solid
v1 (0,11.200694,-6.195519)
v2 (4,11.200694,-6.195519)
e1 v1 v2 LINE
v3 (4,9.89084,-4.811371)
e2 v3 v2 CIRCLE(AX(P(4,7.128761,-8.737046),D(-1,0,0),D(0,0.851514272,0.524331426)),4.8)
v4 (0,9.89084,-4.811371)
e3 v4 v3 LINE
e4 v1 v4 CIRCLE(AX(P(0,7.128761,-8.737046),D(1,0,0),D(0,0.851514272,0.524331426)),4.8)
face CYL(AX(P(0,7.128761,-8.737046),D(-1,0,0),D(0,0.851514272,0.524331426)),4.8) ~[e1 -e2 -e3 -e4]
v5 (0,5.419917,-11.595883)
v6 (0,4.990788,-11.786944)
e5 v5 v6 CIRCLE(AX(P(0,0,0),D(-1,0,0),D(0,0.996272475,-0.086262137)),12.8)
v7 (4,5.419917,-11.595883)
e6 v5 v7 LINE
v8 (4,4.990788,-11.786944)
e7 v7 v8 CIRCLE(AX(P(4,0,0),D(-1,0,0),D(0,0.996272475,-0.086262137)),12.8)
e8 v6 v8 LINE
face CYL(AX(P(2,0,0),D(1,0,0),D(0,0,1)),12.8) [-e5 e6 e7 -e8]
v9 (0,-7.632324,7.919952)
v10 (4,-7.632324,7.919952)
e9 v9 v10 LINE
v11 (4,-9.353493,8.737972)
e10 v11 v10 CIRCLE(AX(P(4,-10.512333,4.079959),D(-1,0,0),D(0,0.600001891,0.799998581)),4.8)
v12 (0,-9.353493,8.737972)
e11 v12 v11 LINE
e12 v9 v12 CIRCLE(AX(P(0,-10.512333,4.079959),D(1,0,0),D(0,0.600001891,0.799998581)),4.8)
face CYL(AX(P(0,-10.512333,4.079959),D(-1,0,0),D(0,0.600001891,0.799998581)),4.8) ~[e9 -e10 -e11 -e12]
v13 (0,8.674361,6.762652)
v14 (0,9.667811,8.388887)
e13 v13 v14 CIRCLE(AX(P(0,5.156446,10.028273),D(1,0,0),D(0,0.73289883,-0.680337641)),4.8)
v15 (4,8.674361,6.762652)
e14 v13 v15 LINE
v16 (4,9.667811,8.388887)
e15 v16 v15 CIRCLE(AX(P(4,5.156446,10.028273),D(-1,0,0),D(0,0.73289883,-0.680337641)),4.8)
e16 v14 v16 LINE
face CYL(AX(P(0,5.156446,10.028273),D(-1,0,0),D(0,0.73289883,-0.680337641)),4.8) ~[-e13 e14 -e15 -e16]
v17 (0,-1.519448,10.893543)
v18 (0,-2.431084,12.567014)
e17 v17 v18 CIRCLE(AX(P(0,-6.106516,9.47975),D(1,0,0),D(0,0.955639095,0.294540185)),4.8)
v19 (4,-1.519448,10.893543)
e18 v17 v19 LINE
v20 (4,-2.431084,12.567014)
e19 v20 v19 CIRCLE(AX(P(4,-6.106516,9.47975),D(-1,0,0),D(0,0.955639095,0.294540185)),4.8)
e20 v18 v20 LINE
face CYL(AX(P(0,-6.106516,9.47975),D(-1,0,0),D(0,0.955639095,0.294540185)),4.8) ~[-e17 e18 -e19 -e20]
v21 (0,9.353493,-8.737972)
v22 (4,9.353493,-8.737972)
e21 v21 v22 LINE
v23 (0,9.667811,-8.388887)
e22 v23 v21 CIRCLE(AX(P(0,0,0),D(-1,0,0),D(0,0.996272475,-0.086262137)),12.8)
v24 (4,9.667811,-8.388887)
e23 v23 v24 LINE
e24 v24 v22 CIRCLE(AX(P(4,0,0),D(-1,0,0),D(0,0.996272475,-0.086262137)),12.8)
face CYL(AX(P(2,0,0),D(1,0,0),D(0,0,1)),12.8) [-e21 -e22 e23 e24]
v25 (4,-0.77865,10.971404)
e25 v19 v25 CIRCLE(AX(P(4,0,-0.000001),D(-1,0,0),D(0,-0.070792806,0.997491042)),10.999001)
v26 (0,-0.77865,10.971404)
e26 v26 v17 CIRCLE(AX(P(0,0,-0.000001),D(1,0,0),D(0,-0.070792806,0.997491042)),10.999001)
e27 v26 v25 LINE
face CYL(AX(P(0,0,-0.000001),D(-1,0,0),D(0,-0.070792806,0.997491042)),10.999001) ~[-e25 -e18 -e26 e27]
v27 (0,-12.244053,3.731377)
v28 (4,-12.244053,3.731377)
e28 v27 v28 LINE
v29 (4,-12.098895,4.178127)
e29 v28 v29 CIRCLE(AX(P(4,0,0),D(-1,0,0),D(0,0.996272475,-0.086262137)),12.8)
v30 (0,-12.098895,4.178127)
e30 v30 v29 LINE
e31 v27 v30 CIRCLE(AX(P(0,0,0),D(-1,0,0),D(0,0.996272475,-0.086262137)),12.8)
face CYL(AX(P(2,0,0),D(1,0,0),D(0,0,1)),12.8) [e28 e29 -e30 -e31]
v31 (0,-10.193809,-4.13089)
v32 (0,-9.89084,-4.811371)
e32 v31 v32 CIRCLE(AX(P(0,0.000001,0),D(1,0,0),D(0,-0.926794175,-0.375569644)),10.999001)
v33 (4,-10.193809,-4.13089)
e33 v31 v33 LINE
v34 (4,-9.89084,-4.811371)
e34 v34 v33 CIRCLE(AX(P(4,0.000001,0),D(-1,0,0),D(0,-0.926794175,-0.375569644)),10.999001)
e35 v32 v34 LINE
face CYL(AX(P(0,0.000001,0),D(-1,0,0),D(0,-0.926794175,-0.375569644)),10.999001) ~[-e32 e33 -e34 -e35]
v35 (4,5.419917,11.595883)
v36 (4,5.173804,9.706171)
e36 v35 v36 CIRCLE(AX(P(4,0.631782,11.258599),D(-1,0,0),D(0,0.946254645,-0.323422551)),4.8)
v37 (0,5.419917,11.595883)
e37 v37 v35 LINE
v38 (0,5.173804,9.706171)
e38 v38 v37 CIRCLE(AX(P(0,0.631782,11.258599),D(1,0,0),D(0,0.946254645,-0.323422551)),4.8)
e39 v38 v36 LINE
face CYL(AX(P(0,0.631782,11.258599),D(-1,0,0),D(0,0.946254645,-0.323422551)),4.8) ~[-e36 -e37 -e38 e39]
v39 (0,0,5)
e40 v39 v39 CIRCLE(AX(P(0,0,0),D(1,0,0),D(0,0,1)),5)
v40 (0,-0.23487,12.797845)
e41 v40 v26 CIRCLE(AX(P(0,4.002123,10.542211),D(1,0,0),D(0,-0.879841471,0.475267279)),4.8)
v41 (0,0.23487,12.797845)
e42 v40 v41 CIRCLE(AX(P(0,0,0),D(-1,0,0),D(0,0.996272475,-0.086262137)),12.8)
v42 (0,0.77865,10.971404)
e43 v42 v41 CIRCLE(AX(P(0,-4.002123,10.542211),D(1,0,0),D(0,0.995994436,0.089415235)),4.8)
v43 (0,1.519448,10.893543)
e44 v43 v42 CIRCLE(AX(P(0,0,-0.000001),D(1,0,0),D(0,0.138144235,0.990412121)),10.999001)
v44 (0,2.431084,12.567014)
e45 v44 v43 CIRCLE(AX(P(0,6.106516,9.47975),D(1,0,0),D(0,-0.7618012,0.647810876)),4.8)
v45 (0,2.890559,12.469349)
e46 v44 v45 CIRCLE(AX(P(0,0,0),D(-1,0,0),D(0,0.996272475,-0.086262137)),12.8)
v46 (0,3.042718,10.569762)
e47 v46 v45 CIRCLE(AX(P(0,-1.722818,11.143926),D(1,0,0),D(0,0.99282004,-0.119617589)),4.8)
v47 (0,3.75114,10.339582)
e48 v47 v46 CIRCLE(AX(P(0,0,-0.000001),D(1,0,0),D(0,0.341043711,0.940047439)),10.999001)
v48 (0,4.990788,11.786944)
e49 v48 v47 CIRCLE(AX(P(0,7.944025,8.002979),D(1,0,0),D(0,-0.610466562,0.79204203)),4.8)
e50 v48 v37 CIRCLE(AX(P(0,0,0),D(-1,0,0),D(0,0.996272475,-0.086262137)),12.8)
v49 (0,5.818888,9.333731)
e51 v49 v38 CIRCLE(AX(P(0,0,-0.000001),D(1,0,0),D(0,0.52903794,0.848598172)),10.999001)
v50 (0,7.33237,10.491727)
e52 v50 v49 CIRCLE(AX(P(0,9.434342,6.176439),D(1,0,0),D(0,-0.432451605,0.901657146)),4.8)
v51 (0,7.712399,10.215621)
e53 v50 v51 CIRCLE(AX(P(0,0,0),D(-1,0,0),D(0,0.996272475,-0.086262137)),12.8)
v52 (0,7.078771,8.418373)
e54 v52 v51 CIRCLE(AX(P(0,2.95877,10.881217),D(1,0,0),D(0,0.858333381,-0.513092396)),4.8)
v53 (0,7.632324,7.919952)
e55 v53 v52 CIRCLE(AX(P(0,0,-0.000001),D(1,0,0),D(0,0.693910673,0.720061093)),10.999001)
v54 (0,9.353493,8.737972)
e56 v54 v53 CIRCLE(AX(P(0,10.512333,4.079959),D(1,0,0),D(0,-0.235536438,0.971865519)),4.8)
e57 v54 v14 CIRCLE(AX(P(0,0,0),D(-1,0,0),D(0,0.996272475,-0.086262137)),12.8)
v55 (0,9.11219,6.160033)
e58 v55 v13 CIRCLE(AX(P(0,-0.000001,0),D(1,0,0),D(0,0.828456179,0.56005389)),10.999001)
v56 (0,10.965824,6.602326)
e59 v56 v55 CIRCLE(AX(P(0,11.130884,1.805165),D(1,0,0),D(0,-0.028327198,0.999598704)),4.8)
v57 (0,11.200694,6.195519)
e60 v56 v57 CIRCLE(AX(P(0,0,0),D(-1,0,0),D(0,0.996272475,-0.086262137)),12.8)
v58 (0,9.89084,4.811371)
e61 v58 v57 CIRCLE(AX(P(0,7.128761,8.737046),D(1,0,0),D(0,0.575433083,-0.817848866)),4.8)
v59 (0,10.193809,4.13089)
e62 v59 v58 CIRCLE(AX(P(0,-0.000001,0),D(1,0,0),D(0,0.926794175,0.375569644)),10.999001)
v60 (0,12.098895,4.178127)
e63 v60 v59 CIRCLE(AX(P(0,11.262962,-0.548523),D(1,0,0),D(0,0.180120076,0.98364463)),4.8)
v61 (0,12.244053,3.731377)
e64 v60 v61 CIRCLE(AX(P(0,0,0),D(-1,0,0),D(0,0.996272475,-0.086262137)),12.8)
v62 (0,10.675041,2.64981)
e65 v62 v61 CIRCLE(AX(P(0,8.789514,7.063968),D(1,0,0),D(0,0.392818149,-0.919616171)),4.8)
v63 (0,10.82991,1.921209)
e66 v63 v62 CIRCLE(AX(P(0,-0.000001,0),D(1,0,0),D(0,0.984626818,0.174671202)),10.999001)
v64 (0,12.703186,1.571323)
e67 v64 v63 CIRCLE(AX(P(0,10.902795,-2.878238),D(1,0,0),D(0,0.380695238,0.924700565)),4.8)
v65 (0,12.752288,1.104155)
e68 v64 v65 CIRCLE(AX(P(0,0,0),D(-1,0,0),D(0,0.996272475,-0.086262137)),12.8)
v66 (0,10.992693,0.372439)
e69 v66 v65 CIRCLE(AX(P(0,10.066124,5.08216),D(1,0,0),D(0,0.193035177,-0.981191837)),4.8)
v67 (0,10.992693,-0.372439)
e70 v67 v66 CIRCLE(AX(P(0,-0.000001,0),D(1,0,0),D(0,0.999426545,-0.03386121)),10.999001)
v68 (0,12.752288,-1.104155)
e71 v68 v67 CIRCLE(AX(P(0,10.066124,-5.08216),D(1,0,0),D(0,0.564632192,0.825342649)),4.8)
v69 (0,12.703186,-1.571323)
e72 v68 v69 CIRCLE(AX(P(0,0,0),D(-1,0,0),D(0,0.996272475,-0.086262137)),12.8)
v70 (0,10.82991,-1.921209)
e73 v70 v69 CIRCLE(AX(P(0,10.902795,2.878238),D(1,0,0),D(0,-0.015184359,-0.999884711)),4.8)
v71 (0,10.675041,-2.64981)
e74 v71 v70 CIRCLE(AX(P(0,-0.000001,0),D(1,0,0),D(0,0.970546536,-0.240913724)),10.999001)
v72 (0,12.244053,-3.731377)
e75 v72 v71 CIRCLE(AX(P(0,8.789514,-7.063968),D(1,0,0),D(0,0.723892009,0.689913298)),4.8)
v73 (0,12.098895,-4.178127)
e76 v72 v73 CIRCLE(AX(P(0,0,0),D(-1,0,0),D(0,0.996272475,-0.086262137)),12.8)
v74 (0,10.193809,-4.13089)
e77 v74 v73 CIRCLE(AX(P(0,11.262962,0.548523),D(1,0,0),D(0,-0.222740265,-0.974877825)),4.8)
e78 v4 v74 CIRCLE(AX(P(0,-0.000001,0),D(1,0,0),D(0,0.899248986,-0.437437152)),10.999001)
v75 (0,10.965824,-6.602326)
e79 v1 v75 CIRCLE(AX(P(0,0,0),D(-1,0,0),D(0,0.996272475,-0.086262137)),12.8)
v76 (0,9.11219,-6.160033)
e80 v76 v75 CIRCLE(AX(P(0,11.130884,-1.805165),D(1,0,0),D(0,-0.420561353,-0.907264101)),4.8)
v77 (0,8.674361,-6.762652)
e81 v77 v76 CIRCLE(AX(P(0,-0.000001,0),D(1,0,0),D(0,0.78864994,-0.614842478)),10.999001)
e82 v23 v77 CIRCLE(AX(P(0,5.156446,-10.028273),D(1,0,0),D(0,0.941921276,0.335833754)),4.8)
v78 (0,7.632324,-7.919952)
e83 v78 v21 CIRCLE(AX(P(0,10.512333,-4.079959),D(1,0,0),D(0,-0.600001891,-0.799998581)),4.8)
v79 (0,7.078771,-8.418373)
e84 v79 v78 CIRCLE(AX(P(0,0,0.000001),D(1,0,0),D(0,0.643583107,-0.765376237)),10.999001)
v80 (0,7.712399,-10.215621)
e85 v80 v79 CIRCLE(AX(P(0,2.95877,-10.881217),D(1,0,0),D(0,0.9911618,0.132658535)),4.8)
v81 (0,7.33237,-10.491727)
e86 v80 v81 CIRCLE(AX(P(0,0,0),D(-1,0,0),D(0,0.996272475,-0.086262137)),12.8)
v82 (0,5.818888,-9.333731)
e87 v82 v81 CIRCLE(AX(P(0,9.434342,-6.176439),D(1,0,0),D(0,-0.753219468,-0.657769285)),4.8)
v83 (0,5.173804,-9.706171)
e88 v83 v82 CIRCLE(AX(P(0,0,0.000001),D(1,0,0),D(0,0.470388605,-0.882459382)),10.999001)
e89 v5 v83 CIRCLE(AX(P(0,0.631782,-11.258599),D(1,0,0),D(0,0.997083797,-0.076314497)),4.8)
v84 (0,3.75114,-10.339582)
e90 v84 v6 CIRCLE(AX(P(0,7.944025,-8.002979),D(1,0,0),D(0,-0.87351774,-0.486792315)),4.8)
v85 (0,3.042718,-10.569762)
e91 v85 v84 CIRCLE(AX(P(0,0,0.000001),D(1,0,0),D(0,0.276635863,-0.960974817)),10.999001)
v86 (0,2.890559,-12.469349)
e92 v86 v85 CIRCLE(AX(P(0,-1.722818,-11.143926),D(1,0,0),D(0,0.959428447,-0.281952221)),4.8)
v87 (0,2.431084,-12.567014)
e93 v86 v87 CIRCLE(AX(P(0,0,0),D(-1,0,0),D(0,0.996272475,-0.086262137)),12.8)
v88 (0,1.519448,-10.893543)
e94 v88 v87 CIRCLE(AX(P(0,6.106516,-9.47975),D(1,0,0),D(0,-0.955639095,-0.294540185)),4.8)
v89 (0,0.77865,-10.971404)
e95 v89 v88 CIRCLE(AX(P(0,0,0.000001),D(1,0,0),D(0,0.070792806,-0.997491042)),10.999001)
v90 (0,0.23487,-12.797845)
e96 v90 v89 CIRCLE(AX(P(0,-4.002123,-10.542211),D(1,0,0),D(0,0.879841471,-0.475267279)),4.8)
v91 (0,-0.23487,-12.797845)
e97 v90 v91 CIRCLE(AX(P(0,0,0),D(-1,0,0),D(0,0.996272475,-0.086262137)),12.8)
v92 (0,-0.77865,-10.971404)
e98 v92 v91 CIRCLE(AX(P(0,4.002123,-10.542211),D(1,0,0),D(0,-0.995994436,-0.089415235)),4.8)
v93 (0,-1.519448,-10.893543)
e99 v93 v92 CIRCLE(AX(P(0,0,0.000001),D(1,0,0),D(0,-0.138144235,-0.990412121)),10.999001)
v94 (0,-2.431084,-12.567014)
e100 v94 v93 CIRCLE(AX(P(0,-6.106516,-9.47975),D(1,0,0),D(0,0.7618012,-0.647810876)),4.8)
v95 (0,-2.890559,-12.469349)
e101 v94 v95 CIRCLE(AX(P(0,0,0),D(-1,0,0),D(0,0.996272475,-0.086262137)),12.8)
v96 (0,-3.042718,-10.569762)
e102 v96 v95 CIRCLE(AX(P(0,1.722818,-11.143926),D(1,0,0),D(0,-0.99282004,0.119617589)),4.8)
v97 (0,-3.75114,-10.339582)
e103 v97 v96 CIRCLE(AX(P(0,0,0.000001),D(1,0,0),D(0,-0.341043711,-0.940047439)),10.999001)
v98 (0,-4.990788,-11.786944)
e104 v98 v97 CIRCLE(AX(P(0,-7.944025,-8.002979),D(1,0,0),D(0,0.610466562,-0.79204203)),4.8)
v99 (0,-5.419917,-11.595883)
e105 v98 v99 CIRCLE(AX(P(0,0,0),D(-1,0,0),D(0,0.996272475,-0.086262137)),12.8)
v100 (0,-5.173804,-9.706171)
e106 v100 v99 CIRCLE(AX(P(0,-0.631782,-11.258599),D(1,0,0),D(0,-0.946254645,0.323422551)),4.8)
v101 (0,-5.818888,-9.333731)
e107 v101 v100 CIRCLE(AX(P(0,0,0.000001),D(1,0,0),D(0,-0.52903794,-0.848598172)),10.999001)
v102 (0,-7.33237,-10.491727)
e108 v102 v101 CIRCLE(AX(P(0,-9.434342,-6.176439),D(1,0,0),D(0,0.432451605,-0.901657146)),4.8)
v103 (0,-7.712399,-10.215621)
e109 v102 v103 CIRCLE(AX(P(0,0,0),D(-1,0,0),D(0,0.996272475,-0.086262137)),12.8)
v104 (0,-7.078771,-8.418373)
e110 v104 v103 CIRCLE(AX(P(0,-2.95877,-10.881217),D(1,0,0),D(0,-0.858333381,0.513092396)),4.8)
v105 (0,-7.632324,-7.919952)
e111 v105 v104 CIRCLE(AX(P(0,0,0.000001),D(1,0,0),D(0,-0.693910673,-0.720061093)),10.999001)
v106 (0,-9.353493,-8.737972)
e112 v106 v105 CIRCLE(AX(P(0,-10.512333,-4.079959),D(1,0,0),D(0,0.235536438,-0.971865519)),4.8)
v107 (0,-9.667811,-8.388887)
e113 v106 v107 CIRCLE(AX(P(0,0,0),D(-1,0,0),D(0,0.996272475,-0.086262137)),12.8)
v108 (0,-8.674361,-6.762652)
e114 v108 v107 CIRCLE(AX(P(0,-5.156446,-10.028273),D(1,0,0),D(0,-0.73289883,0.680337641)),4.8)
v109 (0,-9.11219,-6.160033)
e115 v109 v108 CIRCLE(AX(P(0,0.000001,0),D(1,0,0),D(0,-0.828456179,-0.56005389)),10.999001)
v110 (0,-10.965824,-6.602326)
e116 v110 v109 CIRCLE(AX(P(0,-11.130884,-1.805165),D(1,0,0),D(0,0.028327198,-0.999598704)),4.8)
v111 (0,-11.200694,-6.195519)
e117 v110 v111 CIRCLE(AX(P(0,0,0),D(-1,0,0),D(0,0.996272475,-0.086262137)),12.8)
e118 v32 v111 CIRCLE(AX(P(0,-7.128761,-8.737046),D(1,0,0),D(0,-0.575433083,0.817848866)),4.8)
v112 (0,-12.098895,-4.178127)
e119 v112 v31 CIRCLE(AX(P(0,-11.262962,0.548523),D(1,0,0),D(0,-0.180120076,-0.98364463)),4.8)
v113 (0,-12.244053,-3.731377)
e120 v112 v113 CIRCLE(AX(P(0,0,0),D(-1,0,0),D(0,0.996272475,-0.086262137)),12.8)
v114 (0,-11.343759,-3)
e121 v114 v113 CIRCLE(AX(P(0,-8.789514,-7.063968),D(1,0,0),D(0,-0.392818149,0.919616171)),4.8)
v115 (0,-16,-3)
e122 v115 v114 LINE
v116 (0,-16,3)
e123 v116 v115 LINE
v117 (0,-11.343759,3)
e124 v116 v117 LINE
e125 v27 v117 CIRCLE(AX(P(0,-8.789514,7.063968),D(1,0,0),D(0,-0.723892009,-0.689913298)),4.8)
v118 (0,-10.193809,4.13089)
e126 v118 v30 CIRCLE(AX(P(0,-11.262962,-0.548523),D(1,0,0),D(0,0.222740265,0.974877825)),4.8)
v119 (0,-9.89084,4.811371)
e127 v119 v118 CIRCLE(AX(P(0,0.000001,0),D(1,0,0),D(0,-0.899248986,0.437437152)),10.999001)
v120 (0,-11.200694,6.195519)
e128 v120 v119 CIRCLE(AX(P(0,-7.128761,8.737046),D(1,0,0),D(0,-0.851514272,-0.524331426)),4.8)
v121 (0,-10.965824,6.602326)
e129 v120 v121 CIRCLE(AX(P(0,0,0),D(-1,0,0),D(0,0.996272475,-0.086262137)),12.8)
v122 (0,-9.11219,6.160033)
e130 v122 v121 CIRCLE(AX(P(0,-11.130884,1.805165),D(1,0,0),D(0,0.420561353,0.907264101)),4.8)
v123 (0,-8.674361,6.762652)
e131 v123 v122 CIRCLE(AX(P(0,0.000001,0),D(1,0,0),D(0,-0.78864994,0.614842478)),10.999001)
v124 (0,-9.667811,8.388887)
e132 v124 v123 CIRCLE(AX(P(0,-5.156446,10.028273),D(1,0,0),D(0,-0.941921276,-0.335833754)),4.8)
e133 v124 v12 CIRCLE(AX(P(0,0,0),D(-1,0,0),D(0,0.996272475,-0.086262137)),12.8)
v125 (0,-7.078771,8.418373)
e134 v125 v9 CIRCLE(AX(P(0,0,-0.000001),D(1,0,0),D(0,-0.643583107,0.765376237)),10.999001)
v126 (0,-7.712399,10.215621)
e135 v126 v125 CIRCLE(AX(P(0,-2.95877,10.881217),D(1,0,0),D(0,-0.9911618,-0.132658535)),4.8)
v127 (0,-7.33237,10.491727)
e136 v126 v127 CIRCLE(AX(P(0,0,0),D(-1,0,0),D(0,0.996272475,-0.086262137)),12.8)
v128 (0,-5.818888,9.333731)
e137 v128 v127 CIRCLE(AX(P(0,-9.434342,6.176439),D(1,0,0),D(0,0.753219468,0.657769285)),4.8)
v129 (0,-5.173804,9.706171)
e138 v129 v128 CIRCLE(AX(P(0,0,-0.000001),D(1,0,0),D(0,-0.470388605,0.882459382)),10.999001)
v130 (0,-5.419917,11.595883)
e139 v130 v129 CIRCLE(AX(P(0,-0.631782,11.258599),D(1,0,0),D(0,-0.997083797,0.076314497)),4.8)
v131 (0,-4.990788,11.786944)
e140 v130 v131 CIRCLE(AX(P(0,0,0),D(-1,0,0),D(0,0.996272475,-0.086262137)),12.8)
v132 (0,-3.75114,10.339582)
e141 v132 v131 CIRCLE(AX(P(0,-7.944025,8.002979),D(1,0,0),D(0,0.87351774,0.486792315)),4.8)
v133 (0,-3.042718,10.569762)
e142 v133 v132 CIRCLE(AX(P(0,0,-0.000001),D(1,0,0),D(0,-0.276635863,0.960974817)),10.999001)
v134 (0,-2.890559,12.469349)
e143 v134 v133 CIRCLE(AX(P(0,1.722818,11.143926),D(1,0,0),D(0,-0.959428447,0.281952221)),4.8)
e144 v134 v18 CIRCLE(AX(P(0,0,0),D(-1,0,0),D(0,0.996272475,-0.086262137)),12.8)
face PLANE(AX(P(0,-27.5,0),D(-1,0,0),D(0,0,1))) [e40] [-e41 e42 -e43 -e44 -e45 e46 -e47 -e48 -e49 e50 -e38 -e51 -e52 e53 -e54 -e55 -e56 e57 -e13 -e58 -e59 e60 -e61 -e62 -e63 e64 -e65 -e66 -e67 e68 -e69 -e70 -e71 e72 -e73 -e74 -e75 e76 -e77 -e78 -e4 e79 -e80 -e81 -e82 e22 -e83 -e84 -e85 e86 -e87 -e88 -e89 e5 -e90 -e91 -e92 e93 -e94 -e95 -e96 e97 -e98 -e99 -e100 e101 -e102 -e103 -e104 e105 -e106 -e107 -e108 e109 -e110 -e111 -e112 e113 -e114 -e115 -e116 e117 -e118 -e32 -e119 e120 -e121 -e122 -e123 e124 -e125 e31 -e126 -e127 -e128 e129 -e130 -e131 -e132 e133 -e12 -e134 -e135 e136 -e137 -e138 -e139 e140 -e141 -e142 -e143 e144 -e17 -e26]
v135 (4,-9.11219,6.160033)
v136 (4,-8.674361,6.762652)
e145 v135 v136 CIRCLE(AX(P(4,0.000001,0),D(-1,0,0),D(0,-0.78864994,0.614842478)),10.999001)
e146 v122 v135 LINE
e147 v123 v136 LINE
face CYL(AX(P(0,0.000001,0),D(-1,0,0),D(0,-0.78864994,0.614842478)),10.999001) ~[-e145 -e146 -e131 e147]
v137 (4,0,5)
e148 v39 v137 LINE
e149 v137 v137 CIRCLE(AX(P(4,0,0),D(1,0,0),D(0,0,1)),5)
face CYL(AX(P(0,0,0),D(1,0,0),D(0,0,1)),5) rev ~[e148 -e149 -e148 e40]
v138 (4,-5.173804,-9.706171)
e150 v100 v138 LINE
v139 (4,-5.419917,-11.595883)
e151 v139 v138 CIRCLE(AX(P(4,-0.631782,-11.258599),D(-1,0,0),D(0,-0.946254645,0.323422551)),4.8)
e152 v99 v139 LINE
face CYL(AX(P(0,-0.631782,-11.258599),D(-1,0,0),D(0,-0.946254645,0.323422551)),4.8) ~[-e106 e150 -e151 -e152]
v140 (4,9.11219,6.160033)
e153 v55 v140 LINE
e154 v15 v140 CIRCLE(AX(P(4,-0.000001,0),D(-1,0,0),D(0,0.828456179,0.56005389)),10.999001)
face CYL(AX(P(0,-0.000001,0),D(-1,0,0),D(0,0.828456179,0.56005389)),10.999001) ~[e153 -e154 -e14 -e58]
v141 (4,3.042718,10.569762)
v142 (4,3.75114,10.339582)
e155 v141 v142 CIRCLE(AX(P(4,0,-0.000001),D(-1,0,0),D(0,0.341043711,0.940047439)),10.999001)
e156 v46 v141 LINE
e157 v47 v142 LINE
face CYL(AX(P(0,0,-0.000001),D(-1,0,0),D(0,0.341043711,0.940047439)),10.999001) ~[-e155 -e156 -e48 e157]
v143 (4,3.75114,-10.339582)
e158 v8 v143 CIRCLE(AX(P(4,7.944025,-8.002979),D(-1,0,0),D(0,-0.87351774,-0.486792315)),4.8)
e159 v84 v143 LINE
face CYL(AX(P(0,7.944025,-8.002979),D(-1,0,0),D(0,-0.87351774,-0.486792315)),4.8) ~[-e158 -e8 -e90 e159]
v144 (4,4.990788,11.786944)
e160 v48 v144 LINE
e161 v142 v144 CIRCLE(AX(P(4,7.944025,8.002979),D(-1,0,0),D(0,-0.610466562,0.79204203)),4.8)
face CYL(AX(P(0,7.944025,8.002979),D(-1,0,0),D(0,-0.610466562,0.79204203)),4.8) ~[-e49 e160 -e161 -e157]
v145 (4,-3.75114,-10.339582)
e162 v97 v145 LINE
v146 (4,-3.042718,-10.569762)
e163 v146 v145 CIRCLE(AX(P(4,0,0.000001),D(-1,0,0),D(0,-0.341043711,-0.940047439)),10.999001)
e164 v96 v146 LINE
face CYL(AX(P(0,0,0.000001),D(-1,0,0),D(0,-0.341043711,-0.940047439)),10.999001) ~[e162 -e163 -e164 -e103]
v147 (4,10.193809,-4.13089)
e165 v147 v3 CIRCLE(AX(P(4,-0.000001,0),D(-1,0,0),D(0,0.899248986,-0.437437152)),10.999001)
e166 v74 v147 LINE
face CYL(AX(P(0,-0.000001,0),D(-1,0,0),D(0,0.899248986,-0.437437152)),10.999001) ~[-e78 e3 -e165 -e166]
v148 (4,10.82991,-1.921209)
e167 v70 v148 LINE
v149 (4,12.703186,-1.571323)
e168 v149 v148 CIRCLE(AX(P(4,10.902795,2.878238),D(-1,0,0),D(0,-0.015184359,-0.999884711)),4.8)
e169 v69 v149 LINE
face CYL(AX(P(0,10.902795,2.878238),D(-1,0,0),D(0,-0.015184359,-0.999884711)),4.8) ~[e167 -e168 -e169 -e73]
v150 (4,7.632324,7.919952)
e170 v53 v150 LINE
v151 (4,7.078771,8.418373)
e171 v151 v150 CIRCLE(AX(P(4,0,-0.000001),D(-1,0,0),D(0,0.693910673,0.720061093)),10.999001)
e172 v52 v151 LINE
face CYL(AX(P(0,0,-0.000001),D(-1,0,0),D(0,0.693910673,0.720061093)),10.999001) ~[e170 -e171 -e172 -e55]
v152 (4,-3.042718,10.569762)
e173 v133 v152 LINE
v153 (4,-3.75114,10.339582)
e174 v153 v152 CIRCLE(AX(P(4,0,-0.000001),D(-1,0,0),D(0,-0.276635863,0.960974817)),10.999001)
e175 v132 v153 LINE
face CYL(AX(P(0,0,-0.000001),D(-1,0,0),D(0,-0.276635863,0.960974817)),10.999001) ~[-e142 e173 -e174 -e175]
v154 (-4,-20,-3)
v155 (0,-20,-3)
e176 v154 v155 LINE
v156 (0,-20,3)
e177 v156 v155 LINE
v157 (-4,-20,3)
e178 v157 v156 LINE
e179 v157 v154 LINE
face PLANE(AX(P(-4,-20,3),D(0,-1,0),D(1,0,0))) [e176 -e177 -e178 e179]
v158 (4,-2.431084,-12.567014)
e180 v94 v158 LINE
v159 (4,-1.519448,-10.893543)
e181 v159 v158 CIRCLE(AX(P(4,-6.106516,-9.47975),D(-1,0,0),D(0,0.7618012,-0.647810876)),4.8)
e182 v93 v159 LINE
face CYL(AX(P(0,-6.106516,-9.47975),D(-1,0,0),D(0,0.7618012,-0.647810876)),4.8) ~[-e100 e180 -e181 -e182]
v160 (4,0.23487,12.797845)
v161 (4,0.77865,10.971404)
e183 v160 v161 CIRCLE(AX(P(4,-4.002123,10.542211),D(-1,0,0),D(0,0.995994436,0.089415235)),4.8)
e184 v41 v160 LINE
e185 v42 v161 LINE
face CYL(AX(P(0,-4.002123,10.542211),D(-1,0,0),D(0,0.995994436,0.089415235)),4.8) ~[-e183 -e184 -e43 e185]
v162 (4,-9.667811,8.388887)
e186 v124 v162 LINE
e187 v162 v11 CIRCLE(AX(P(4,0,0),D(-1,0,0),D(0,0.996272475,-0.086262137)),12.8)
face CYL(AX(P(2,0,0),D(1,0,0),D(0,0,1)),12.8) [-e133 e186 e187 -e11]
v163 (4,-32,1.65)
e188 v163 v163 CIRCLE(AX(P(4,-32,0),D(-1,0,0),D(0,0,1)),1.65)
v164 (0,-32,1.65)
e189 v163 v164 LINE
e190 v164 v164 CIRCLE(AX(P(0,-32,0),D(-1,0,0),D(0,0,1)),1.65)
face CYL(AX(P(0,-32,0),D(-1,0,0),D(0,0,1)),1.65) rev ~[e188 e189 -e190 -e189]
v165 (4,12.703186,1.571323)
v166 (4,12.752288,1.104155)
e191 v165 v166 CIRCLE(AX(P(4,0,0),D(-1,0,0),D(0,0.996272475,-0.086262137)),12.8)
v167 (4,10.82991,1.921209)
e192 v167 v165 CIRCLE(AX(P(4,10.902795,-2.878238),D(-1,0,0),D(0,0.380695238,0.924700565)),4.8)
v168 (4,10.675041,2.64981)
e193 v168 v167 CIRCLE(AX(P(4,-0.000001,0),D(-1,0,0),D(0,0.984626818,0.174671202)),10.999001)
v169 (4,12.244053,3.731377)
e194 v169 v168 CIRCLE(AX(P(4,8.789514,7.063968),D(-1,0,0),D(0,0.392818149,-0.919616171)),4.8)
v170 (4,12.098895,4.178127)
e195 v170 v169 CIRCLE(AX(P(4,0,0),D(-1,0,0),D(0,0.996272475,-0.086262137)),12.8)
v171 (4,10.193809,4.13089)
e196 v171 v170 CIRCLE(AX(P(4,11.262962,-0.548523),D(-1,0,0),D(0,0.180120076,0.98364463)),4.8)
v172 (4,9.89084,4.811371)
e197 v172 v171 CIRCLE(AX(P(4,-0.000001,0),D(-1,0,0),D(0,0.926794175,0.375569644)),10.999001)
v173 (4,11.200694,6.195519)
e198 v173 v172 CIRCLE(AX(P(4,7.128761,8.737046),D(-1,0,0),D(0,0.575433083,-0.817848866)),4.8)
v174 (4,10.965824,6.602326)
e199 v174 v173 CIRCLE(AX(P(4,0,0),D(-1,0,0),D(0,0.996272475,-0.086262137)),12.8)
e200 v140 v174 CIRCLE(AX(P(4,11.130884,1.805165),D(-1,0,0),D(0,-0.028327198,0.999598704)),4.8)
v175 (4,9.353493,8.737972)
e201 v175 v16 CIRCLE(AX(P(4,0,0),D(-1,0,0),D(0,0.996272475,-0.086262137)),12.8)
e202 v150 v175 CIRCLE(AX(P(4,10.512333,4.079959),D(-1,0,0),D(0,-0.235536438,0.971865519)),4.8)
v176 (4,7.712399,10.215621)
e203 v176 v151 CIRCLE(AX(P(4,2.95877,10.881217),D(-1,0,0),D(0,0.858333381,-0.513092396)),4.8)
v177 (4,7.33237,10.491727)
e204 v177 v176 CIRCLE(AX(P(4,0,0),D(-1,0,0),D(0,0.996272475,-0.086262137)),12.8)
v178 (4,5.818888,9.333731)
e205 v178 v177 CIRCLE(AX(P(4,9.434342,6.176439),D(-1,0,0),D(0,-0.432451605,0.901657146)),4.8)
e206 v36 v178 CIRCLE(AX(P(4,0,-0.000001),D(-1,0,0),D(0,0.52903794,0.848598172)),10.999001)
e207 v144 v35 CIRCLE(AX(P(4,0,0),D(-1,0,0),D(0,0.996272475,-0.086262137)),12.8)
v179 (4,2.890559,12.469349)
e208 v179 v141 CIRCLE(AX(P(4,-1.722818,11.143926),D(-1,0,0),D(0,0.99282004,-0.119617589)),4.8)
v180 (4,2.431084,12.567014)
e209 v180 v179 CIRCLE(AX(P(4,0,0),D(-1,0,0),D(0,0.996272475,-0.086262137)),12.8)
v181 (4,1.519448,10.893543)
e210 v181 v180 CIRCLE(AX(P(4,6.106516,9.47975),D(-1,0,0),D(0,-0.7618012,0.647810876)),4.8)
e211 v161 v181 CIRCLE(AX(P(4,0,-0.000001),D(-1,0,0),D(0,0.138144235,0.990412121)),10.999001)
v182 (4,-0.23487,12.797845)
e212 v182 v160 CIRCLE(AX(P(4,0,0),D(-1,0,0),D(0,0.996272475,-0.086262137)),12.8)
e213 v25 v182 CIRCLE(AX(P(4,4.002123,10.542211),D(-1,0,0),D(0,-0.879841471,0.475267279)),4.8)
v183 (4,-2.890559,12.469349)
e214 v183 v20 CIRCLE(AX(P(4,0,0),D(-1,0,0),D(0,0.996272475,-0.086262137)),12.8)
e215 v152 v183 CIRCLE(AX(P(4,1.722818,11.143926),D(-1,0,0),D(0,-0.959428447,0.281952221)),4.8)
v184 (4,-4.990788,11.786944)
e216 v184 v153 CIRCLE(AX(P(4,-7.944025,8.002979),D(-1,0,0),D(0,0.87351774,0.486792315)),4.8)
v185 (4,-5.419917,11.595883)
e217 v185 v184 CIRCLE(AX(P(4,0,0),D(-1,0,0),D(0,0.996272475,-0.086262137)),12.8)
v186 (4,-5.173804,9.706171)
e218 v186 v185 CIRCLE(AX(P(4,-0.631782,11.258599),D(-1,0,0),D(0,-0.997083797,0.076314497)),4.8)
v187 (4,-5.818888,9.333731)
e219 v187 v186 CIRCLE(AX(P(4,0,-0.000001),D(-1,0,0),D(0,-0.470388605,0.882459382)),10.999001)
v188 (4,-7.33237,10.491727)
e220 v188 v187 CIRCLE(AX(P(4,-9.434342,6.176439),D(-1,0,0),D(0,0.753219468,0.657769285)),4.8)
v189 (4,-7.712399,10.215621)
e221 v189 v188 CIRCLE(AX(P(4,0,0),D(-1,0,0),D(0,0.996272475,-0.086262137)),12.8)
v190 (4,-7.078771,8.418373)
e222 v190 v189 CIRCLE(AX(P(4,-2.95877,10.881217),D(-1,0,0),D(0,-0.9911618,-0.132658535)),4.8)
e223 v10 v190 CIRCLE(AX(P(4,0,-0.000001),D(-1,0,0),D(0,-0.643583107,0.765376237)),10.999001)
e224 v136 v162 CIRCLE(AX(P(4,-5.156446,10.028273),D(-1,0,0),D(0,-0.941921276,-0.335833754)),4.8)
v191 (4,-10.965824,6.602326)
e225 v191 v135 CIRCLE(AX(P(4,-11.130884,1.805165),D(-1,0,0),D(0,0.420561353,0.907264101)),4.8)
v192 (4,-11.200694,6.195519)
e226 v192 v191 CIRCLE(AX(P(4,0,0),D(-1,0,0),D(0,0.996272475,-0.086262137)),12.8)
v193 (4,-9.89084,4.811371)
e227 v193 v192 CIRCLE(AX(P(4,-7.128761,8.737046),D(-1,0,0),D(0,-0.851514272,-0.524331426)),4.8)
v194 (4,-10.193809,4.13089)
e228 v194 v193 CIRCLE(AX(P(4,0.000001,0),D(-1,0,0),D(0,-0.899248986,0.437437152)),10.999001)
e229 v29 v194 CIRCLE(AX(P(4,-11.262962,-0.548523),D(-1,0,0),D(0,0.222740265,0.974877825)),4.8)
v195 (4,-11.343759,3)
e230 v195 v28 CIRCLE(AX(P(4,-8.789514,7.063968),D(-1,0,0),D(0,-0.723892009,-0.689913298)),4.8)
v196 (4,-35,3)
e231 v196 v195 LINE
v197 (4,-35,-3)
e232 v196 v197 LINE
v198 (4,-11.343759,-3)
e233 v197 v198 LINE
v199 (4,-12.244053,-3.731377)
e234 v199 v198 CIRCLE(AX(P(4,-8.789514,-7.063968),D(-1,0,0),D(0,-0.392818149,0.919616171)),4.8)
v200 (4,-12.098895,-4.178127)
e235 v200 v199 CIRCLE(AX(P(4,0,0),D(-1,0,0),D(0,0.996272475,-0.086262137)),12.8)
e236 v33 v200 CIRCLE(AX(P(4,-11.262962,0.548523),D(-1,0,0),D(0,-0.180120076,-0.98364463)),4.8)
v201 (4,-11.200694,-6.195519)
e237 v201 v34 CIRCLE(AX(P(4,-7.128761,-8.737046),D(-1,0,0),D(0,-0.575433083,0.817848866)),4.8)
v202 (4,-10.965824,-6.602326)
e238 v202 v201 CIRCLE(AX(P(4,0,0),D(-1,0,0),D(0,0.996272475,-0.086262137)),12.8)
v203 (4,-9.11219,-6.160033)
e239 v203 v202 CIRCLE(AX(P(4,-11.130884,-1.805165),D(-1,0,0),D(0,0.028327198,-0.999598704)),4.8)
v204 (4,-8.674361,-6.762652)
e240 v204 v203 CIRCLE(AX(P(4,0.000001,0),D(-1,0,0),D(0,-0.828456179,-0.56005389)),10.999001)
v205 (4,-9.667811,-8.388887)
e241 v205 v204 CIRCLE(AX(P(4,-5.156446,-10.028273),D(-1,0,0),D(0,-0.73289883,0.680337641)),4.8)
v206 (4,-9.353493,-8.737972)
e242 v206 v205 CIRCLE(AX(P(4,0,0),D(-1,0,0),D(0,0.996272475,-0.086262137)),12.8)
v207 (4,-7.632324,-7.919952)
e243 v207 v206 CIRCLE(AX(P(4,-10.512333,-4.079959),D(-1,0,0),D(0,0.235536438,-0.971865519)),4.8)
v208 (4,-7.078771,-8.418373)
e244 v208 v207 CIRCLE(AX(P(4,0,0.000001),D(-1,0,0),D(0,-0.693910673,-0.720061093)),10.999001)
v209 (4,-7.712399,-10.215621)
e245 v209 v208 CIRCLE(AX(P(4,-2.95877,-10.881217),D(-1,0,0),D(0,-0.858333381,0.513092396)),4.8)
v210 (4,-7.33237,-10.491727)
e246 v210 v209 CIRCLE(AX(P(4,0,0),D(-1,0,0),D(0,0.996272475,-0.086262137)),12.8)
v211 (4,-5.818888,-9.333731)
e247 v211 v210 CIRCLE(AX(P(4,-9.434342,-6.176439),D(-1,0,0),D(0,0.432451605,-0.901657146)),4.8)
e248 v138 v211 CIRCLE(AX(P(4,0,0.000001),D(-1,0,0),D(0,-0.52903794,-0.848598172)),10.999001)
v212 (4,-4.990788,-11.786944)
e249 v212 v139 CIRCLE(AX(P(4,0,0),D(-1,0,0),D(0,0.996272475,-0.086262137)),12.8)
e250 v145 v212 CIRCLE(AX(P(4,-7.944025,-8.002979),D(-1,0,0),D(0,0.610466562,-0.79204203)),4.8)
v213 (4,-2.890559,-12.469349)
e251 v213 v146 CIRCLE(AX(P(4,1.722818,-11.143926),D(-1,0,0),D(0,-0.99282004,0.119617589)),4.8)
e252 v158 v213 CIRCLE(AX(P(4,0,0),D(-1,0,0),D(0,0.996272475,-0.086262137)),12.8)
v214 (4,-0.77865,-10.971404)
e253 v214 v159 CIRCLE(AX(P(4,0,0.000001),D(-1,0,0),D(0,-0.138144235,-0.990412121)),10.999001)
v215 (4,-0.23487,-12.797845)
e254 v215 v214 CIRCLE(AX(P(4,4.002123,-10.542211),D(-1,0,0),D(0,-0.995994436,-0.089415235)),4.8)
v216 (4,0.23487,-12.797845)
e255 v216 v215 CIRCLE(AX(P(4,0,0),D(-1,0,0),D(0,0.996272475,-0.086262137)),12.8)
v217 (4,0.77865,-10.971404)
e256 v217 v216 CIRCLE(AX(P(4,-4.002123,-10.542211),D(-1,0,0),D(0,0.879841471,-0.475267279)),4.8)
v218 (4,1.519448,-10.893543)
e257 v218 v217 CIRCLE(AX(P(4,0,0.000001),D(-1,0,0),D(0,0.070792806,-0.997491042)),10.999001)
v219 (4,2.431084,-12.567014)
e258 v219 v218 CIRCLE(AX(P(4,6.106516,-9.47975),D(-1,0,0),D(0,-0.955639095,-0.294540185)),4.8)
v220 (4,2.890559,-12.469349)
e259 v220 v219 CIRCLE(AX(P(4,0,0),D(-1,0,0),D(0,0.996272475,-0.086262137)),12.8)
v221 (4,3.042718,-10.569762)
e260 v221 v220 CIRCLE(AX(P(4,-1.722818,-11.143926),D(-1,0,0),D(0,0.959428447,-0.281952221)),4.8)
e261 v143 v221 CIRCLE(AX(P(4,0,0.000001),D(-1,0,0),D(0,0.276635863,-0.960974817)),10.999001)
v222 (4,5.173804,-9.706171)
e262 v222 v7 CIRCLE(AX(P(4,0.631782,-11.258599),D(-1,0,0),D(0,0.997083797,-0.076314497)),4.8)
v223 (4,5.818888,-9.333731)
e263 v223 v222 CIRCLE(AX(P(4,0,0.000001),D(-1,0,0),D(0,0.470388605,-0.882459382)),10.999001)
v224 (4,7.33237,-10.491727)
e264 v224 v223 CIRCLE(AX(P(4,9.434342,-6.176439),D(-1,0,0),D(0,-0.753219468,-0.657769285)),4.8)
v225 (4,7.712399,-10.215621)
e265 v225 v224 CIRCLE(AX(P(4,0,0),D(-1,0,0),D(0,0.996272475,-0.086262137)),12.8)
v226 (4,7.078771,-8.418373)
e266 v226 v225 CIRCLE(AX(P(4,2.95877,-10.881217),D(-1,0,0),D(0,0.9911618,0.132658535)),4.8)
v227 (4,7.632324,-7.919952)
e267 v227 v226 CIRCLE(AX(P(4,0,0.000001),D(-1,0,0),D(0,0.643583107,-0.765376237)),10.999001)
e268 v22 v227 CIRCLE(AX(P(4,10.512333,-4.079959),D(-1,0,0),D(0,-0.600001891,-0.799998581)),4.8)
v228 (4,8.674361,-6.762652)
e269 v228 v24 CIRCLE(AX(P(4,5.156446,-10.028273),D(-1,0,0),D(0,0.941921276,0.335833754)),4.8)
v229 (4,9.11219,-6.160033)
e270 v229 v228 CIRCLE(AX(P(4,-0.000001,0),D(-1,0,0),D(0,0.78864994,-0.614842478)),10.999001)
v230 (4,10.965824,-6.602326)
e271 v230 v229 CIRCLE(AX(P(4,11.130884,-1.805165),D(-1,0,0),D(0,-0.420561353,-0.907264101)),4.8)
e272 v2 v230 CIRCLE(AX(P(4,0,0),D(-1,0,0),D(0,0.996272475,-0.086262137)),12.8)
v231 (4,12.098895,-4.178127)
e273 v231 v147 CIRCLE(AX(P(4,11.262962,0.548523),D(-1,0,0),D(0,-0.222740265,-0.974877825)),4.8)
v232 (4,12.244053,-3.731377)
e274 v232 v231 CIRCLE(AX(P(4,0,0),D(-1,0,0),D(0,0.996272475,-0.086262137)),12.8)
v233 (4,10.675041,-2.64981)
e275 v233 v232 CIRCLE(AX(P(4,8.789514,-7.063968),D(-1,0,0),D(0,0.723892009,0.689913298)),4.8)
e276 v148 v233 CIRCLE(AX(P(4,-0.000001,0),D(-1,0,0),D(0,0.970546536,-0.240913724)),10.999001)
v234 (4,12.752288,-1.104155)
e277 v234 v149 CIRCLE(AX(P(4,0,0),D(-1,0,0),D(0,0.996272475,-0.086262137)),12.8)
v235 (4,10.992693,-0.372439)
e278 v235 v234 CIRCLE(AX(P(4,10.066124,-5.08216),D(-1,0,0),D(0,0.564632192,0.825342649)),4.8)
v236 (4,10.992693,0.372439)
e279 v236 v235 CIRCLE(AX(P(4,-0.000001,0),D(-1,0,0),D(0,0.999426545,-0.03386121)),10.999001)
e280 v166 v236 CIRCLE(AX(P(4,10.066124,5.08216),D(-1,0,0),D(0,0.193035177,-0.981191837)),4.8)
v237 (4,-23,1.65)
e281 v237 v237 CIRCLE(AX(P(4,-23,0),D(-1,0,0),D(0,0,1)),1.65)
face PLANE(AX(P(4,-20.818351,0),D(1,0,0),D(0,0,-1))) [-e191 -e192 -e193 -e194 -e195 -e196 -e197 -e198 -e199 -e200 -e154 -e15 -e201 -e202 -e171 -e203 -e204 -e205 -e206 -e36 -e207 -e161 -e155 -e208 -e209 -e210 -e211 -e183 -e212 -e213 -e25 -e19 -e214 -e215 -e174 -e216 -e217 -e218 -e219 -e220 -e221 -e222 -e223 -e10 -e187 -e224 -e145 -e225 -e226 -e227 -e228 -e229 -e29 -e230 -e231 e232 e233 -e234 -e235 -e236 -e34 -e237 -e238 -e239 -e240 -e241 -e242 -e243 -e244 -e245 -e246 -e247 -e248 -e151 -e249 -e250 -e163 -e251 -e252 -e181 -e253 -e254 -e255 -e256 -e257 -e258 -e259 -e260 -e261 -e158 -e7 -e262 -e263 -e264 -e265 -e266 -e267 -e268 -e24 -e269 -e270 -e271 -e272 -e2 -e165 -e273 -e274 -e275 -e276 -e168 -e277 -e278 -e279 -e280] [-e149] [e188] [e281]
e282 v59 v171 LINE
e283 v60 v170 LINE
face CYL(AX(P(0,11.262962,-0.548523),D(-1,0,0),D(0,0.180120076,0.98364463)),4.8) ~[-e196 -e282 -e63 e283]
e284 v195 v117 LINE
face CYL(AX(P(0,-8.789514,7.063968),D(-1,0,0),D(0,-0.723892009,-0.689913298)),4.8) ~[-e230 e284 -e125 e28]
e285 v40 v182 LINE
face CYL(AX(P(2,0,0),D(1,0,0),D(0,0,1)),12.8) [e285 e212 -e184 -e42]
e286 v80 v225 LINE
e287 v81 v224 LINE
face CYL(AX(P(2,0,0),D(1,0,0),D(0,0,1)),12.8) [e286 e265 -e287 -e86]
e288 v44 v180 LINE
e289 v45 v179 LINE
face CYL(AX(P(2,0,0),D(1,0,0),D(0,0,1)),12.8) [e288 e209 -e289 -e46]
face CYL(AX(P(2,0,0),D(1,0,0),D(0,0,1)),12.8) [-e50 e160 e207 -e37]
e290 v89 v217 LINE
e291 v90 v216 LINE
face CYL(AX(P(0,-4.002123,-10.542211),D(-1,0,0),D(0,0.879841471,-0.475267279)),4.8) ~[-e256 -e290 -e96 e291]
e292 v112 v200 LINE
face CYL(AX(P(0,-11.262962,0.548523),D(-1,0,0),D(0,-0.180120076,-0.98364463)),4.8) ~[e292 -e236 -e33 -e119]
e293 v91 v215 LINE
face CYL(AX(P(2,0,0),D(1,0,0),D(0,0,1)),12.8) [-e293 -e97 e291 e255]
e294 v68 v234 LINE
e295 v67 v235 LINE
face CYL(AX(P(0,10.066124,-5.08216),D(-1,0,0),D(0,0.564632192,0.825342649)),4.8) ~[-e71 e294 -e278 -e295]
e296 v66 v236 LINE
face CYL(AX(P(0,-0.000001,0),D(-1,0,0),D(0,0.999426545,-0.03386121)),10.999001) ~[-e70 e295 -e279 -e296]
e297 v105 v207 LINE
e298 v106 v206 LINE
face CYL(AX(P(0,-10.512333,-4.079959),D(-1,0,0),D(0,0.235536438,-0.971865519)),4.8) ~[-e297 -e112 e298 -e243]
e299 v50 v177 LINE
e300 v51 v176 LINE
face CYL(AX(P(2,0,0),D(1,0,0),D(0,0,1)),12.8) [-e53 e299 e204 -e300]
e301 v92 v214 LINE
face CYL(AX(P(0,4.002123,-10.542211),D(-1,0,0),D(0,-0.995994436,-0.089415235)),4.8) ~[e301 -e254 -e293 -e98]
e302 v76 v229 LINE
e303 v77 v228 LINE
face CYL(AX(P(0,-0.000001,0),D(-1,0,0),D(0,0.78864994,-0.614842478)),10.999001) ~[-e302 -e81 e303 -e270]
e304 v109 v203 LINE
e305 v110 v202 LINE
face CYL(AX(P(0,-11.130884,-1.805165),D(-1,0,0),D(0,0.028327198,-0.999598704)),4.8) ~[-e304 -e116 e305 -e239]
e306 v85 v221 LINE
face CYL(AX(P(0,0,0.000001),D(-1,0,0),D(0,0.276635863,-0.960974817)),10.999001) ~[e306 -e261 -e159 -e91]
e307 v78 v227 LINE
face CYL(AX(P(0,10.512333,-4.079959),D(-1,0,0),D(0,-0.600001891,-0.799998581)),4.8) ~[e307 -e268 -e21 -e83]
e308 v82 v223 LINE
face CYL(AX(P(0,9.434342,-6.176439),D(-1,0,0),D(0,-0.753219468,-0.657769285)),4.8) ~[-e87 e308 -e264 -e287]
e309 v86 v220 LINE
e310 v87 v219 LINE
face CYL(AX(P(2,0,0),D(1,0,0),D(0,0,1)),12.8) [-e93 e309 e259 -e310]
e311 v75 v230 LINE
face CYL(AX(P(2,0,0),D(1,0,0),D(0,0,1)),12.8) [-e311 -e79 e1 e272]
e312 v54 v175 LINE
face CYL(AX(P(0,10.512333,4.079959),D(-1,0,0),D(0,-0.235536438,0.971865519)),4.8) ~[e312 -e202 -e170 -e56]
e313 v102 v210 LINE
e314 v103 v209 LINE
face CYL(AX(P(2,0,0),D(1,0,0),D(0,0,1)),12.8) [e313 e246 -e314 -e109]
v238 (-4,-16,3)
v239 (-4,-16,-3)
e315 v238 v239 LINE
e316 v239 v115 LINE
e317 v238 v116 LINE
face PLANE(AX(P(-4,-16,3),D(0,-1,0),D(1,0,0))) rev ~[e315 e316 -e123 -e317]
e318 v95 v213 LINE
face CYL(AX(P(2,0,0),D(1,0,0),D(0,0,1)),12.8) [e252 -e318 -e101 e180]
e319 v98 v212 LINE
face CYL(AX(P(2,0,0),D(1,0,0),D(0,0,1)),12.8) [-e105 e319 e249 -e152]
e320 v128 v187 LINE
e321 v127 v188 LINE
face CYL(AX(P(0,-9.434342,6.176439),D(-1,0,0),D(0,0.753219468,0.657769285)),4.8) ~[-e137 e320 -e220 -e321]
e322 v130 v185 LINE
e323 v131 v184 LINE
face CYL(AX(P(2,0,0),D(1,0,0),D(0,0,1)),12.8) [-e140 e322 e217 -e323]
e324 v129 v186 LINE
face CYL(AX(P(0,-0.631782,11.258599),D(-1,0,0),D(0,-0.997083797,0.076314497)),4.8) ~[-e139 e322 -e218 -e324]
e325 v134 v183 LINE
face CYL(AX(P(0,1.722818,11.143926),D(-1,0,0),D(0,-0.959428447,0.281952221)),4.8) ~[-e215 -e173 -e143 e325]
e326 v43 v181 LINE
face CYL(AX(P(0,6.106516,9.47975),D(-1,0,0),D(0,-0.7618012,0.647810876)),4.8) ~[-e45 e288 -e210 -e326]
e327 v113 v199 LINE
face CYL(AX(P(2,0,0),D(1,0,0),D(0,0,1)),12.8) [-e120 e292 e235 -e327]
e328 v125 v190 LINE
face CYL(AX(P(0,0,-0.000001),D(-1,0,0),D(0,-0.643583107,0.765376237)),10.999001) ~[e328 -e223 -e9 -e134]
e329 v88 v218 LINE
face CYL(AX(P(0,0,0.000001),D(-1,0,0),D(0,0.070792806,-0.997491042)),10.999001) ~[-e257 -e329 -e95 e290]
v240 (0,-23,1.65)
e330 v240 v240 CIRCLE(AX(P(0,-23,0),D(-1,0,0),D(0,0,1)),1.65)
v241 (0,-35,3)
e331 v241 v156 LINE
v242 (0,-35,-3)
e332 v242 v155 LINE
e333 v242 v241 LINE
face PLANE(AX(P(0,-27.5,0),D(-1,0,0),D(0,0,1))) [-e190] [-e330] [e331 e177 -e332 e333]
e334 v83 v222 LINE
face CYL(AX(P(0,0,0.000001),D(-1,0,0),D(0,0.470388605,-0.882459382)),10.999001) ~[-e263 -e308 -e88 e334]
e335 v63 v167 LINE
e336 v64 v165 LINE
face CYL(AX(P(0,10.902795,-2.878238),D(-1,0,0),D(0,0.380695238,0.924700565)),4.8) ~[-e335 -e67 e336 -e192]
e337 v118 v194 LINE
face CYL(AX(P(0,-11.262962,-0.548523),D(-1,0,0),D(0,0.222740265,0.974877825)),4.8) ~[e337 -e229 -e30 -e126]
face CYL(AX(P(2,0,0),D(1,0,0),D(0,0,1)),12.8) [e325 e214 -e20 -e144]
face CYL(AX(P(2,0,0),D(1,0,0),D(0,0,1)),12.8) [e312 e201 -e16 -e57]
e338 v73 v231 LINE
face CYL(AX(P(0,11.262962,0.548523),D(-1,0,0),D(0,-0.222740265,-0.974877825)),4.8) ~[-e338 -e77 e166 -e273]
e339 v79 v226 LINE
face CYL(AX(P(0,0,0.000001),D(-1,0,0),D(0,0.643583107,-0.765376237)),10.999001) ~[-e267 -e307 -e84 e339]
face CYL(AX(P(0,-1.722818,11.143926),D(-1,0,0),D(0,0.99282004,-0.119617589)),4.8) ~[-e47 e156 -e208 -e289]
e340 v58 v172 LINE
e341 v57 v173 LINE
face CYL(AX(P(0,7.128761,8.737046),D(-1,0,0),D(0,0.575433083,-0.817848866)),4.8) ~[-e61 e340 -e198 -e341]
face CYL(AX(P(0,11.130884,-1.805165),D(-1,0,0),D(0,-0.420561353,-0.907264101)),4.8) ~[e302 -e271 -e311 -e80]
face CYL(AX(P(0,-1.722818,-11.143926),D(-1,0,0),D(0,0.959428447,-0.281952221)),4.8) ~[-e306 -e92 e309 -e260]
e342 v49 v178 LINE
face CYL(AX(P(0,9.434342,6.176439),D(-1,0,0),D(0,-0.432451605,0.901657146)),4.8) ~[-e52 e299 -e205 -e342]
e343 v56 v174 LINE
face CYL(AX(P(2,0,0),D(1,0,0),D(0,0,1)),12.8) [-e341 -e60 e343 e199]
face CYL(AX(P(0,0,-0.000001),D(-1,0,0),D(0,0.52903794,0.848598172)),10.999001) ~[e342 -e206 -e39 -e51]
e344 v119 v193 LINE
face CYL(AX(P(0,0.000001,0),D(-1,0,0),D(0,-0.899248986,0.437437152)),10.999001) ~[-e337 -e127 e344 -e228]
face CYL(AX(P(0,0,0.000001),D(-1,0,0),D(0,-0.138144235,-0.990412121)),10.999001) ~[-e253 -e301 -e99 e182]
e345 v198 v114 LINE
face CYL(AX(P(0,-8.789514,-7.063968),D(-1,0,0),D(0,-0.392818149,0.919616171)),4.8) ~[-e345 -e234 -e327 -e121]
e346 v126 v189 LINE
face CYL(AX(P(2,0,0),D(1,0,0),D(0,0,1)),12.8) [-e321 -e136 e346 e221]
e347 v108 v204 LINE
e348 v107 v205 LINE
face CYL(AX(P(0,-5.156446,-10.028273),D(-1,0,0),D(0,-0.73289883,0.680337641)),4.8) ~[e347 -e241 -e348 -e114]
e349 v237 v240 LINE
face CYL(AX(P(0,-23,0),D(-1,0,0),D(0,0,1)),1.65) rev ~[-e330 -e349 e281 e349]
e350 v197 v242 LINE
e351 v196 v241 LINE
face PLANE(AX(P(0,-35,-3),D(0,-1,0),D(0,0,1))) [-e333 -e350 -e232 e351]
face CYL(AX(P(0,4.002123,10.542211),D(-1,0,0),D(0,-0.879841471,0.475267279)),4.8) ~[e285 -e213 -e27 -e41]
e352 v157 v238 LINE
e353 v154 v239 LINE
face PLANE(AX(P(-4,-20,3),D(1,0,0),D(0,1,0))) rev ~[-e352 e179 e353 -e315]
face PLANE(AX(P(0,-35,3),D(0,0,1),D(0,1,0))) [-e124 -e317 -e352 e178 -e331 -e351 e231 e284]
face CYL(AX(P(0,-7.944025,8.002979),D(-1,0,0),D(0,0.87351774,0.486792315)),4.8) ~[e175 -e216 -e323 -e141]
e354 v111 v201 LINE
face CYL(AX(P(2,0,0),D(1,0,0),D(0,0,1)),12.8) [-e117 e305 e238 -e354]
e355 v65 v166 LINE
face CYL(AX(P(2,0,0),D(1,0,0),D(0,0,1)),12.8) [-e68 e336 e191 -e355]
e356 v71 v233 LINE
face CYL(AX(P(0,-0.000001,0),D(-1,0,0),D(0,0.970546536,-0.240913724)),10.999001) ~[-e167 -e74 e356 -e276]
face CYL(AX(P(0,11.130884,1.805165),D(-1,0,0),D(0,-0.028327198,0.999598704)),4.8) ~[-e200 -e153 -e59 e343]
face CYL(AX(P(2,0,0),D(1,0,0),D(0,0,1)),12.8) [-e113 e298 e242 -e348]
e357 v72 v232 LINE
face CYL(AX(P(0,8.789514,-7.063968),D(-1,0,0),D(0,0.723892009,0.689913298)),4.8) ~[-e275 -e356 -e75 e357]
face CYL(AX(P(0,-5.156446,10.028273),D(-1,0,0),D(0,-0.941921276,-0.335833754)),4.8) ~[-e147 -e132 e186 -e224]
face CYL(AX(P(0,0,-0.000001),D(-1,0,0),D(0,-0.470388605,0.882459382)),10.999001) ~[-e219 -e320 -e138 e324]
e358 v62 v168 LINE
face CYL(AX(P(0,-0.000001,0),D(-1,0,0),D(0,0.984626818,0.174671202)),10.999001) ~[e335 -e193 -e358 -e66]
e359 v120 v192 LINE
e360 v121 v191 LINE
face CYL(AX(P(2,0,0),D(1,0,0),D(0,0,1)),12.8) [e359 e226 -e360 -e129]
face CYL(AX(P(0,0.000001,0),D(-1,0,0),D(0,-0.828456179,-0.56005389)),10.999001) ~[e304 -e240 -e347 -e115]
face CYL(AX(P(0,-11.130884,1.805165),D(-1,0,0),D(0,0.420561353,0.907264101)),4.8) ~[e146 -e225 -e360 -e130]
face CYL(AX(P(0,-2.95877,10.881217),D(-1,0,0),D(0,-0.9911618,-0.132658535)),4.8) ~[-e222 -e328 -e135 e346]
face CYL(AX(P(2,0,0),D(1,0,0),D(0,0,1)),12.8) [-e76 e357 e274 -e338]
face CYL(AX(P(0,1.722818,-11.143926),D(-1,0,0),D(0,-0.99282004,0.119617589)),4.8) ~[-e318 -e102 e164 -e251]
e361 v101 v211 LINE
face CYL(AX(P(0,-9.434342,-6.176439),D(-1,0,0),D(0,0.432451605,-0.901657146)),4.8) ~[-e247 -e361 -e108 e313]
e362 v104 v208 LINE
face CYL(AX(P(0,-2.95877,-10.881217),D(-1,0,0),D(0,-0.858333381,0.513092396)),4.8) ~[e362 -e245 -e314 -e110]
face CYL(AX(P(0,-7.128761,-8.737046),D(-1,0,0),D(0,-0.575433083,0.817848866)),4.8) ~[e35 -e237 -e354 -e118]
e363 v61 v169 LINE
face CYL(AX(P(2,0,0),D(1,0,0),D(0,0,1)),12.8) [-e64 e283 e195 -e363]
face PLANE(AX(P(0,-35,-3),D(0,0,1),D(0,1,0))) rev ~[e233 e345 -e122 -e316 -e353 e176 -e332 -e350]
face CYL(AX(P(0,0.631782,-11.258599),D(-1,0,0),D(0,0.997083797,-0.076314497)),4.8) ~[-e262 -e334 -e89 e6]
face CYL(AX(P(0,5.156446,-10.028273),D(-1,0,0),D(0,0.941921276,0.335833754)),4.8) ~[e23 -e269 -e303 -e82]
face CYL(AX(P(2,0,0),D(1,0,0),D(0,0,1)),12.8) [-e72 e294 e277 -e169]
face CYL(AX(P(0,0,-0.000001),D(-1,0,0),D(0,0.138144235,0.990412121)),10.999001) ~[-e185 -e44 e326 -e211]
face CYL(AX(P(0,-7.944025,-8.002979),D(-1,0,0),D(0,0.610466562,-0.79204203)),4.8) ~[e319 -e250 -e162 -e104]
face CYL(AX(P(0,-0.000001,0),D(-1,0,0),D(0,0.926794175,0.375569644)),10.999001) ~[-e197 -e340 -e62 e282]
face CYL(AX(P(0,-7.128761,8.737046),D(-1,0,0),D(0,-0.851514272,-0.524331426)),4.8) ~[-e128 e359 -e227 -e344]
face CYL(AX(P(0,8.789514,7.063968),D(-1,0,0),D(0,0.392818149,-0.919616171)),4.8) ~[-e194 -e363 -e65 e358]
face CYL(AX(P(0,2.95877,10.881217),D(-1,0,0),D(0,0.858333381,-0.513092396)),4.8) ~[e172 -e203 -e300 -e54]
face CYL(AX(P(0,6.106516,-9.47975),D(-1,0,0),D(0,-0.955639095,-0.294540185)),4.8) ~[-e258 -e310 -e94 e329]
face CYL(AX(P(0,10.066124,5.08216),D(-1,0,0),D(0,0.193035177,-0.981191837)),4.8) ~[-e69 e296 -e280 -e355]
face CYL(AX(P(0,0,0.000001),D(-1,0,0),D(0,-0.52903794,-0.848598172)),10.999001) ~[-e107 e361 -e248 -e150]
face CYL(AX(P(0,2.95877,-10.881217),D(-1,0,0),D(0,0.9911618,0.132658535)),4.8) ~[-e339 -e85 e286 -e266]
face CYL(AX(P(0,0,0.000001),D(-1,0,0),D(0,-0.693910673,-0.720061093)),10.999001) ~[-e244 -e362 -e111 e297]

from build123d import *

# Parameters (mm, degrees)
BASPROSKE_W         = 4
BASPROSKE_H         = 12.8
TOOTHCUT_DEPTH      = 19.538608362
TEETHCUTS_COUNT     = 30
TEETHCUTS_ANGLE     = 348
BORSKE_R            = 5
BORE_DEPTH          = 50.0000508
SKETCH_1_W          = 6
SKETCH_1_H          = 28.363297546
EXTRUDE_1_DEPTH     = 4
SKETCH_4_W          = 2
SKETCH_4_H          = 15
CUT_EXTRUDE_2_DEPTH = 6
SKETCH_6_R          = 1.65
CUT_EXTRUDE_3_DEPTH = 4
EXTRUDE_START       = 2
SKETCH_8_W          = 6
SKETCH_8_H          = 15
SKETCH_8_R          = 1.65
EXTRUDE_2_DEPTH     = 2
SKETCH_9_W          = 4
SKETCH_9_H          = 4
EXTRUDE_3_DEPTH     = 6


with BuildPart() as part:
    # BasProSke → Base-Revolve (revolve)
    with BuildSketch(Plane(origin=(0, 0, 0), x_dir=(1, 0, 0), z_dir=(0, 1, 0)), mode=Mode.PRIVATE) as base_revolve_sk:
        with Locations((2, 6.4)):
            Rectangle(BASPROSKE_W, BASPROSKE_H)
    revolve(base_revolve_sk.sketch.rotate(Axis((-10, 0, 0), (1, 0, 0)), 180), axis=Axis((-10, 0, 0), (1, 0, 0)))

    # TooCutSke → ToothCut (cut, through all)
    with BuildSketch(Plane(origin=(0, 0, 0), x_dir=(0, 0, -1), z_dir=(1, 0, 0))):
        with BuildLine():
            ThreePointArc((0.37243947, 10.992692566), (0, 10.999), (-0.37243947, 10.992692566))
            ThreePointArc((-0.37243947, 10.992692566), (-0.655704499, 11.922595954), (-1.120515575, 12.776358245))
            ThreePointArc((-1.120515575, 12.776358245), (0, 12.8254), (1.120515575, 12.776358245))
            ThreePointArc((1.120515575, 12.776358245), (0.655704499, 11.922595954), (0.37243947, 10.992692566))
        make_face()
    toothcut = extrude(amount=TOOTHCUT_DEPTH, mode=Mode.SUBTRACT)

    # TeethCuts: ToothCut ×30 about axis
    teethcuts_axis = Axis((-10, 0, 0), (1, 0, 0))
    for i in range(1, TEETHCUTS_COUNT):
        add(toothcut.rotate(teethcuts_axis, i * TEETHCUTS_ANGLE / (TEETHCUTS_COUNT - 1)), mode=Mode.SUBTRACT)

    # BorSke → Bore (cut, symmetric)
    with BuildSketch(Plane(origin=(0, 0, 0), x_dir=(0, 0, -1), z_dir=(1, 0, 0))):
        with Locations(Location((0, 0, 0), (0, 0, 180))):
            Circle(BORSKE_R)
    extrude(amount=BORE_DEPTH, both=True, mode=Mode.SUBTRACT)

    # 草图1 → 凸台-拉伸1 (add)
    with BuildSketch(Plane(origin=(4, 0, 0), x_dir=(0, 0, -1), z_dir=(1, 0, 0))):
        with Locations((0, -20.818351227)):
            Rectangle(SKETCH_1_W, SKETCH_1_H)
    extrude(amount=-EXTRUDE_1_DEPTH)

    # 草图4 → 切除-拉伸2 (cut)
    with BuildSketch(Plane(origin=(0, 0, -3), x_dir=(-1, 0, 0), z_dir=(0, 0, -1))):
        with Locations((-1, -27.5)):
            Rectangle(SKETCH_4_W, SKETCH_4_H)
    extrude(amount=-CUT_EXTRUDE_2_DEPTH, mode=Mode.SUBTRACT)

    # 草图6 → 切除-拉伸3 (cut)
    with BuildSketch(Plane.ZY.offset(-2)):
        with Locations((0, -23)):
            Circle(SKETCH_6_R)
        with Locations((0, -32)):
            Circle(SKETCH_6_R)
    extrude(amount=-CUT_EXTRUDE_3_DEPTH, mode=Mode.SUBTRACT)

    # 草图8 → 凸台-拉伸2 (add)
    with BuildSketch(Plane.ZY.offset(-2).offset(EXTRUDE_START)):
        with Locations((0, -27.5)):
            Rectangle(SKETCH_8_W, SKETCH_8_H)
        with Locations((0, -23)):
            Circle(SKETCH_8_R, mode=Mode.SUBTRACT)
        with Locations((0, -32)):
            Circle(SKETCH_8_R, mode=Mode.SUBTRACT)
    extrude(amount=-EXTRUDE_2_DEPTH)

    # 草图9 → 凸台-拉伸3 (add)
    with BuildSketch(Plane.XY.offset(3)):
        with Locations((-2, -18)):
            Rectangle(SKETCH_9_W, SKETCH_9_H)
    extrude(amount=-EXTRUDE_3_DEPTH)


solid = part.part
